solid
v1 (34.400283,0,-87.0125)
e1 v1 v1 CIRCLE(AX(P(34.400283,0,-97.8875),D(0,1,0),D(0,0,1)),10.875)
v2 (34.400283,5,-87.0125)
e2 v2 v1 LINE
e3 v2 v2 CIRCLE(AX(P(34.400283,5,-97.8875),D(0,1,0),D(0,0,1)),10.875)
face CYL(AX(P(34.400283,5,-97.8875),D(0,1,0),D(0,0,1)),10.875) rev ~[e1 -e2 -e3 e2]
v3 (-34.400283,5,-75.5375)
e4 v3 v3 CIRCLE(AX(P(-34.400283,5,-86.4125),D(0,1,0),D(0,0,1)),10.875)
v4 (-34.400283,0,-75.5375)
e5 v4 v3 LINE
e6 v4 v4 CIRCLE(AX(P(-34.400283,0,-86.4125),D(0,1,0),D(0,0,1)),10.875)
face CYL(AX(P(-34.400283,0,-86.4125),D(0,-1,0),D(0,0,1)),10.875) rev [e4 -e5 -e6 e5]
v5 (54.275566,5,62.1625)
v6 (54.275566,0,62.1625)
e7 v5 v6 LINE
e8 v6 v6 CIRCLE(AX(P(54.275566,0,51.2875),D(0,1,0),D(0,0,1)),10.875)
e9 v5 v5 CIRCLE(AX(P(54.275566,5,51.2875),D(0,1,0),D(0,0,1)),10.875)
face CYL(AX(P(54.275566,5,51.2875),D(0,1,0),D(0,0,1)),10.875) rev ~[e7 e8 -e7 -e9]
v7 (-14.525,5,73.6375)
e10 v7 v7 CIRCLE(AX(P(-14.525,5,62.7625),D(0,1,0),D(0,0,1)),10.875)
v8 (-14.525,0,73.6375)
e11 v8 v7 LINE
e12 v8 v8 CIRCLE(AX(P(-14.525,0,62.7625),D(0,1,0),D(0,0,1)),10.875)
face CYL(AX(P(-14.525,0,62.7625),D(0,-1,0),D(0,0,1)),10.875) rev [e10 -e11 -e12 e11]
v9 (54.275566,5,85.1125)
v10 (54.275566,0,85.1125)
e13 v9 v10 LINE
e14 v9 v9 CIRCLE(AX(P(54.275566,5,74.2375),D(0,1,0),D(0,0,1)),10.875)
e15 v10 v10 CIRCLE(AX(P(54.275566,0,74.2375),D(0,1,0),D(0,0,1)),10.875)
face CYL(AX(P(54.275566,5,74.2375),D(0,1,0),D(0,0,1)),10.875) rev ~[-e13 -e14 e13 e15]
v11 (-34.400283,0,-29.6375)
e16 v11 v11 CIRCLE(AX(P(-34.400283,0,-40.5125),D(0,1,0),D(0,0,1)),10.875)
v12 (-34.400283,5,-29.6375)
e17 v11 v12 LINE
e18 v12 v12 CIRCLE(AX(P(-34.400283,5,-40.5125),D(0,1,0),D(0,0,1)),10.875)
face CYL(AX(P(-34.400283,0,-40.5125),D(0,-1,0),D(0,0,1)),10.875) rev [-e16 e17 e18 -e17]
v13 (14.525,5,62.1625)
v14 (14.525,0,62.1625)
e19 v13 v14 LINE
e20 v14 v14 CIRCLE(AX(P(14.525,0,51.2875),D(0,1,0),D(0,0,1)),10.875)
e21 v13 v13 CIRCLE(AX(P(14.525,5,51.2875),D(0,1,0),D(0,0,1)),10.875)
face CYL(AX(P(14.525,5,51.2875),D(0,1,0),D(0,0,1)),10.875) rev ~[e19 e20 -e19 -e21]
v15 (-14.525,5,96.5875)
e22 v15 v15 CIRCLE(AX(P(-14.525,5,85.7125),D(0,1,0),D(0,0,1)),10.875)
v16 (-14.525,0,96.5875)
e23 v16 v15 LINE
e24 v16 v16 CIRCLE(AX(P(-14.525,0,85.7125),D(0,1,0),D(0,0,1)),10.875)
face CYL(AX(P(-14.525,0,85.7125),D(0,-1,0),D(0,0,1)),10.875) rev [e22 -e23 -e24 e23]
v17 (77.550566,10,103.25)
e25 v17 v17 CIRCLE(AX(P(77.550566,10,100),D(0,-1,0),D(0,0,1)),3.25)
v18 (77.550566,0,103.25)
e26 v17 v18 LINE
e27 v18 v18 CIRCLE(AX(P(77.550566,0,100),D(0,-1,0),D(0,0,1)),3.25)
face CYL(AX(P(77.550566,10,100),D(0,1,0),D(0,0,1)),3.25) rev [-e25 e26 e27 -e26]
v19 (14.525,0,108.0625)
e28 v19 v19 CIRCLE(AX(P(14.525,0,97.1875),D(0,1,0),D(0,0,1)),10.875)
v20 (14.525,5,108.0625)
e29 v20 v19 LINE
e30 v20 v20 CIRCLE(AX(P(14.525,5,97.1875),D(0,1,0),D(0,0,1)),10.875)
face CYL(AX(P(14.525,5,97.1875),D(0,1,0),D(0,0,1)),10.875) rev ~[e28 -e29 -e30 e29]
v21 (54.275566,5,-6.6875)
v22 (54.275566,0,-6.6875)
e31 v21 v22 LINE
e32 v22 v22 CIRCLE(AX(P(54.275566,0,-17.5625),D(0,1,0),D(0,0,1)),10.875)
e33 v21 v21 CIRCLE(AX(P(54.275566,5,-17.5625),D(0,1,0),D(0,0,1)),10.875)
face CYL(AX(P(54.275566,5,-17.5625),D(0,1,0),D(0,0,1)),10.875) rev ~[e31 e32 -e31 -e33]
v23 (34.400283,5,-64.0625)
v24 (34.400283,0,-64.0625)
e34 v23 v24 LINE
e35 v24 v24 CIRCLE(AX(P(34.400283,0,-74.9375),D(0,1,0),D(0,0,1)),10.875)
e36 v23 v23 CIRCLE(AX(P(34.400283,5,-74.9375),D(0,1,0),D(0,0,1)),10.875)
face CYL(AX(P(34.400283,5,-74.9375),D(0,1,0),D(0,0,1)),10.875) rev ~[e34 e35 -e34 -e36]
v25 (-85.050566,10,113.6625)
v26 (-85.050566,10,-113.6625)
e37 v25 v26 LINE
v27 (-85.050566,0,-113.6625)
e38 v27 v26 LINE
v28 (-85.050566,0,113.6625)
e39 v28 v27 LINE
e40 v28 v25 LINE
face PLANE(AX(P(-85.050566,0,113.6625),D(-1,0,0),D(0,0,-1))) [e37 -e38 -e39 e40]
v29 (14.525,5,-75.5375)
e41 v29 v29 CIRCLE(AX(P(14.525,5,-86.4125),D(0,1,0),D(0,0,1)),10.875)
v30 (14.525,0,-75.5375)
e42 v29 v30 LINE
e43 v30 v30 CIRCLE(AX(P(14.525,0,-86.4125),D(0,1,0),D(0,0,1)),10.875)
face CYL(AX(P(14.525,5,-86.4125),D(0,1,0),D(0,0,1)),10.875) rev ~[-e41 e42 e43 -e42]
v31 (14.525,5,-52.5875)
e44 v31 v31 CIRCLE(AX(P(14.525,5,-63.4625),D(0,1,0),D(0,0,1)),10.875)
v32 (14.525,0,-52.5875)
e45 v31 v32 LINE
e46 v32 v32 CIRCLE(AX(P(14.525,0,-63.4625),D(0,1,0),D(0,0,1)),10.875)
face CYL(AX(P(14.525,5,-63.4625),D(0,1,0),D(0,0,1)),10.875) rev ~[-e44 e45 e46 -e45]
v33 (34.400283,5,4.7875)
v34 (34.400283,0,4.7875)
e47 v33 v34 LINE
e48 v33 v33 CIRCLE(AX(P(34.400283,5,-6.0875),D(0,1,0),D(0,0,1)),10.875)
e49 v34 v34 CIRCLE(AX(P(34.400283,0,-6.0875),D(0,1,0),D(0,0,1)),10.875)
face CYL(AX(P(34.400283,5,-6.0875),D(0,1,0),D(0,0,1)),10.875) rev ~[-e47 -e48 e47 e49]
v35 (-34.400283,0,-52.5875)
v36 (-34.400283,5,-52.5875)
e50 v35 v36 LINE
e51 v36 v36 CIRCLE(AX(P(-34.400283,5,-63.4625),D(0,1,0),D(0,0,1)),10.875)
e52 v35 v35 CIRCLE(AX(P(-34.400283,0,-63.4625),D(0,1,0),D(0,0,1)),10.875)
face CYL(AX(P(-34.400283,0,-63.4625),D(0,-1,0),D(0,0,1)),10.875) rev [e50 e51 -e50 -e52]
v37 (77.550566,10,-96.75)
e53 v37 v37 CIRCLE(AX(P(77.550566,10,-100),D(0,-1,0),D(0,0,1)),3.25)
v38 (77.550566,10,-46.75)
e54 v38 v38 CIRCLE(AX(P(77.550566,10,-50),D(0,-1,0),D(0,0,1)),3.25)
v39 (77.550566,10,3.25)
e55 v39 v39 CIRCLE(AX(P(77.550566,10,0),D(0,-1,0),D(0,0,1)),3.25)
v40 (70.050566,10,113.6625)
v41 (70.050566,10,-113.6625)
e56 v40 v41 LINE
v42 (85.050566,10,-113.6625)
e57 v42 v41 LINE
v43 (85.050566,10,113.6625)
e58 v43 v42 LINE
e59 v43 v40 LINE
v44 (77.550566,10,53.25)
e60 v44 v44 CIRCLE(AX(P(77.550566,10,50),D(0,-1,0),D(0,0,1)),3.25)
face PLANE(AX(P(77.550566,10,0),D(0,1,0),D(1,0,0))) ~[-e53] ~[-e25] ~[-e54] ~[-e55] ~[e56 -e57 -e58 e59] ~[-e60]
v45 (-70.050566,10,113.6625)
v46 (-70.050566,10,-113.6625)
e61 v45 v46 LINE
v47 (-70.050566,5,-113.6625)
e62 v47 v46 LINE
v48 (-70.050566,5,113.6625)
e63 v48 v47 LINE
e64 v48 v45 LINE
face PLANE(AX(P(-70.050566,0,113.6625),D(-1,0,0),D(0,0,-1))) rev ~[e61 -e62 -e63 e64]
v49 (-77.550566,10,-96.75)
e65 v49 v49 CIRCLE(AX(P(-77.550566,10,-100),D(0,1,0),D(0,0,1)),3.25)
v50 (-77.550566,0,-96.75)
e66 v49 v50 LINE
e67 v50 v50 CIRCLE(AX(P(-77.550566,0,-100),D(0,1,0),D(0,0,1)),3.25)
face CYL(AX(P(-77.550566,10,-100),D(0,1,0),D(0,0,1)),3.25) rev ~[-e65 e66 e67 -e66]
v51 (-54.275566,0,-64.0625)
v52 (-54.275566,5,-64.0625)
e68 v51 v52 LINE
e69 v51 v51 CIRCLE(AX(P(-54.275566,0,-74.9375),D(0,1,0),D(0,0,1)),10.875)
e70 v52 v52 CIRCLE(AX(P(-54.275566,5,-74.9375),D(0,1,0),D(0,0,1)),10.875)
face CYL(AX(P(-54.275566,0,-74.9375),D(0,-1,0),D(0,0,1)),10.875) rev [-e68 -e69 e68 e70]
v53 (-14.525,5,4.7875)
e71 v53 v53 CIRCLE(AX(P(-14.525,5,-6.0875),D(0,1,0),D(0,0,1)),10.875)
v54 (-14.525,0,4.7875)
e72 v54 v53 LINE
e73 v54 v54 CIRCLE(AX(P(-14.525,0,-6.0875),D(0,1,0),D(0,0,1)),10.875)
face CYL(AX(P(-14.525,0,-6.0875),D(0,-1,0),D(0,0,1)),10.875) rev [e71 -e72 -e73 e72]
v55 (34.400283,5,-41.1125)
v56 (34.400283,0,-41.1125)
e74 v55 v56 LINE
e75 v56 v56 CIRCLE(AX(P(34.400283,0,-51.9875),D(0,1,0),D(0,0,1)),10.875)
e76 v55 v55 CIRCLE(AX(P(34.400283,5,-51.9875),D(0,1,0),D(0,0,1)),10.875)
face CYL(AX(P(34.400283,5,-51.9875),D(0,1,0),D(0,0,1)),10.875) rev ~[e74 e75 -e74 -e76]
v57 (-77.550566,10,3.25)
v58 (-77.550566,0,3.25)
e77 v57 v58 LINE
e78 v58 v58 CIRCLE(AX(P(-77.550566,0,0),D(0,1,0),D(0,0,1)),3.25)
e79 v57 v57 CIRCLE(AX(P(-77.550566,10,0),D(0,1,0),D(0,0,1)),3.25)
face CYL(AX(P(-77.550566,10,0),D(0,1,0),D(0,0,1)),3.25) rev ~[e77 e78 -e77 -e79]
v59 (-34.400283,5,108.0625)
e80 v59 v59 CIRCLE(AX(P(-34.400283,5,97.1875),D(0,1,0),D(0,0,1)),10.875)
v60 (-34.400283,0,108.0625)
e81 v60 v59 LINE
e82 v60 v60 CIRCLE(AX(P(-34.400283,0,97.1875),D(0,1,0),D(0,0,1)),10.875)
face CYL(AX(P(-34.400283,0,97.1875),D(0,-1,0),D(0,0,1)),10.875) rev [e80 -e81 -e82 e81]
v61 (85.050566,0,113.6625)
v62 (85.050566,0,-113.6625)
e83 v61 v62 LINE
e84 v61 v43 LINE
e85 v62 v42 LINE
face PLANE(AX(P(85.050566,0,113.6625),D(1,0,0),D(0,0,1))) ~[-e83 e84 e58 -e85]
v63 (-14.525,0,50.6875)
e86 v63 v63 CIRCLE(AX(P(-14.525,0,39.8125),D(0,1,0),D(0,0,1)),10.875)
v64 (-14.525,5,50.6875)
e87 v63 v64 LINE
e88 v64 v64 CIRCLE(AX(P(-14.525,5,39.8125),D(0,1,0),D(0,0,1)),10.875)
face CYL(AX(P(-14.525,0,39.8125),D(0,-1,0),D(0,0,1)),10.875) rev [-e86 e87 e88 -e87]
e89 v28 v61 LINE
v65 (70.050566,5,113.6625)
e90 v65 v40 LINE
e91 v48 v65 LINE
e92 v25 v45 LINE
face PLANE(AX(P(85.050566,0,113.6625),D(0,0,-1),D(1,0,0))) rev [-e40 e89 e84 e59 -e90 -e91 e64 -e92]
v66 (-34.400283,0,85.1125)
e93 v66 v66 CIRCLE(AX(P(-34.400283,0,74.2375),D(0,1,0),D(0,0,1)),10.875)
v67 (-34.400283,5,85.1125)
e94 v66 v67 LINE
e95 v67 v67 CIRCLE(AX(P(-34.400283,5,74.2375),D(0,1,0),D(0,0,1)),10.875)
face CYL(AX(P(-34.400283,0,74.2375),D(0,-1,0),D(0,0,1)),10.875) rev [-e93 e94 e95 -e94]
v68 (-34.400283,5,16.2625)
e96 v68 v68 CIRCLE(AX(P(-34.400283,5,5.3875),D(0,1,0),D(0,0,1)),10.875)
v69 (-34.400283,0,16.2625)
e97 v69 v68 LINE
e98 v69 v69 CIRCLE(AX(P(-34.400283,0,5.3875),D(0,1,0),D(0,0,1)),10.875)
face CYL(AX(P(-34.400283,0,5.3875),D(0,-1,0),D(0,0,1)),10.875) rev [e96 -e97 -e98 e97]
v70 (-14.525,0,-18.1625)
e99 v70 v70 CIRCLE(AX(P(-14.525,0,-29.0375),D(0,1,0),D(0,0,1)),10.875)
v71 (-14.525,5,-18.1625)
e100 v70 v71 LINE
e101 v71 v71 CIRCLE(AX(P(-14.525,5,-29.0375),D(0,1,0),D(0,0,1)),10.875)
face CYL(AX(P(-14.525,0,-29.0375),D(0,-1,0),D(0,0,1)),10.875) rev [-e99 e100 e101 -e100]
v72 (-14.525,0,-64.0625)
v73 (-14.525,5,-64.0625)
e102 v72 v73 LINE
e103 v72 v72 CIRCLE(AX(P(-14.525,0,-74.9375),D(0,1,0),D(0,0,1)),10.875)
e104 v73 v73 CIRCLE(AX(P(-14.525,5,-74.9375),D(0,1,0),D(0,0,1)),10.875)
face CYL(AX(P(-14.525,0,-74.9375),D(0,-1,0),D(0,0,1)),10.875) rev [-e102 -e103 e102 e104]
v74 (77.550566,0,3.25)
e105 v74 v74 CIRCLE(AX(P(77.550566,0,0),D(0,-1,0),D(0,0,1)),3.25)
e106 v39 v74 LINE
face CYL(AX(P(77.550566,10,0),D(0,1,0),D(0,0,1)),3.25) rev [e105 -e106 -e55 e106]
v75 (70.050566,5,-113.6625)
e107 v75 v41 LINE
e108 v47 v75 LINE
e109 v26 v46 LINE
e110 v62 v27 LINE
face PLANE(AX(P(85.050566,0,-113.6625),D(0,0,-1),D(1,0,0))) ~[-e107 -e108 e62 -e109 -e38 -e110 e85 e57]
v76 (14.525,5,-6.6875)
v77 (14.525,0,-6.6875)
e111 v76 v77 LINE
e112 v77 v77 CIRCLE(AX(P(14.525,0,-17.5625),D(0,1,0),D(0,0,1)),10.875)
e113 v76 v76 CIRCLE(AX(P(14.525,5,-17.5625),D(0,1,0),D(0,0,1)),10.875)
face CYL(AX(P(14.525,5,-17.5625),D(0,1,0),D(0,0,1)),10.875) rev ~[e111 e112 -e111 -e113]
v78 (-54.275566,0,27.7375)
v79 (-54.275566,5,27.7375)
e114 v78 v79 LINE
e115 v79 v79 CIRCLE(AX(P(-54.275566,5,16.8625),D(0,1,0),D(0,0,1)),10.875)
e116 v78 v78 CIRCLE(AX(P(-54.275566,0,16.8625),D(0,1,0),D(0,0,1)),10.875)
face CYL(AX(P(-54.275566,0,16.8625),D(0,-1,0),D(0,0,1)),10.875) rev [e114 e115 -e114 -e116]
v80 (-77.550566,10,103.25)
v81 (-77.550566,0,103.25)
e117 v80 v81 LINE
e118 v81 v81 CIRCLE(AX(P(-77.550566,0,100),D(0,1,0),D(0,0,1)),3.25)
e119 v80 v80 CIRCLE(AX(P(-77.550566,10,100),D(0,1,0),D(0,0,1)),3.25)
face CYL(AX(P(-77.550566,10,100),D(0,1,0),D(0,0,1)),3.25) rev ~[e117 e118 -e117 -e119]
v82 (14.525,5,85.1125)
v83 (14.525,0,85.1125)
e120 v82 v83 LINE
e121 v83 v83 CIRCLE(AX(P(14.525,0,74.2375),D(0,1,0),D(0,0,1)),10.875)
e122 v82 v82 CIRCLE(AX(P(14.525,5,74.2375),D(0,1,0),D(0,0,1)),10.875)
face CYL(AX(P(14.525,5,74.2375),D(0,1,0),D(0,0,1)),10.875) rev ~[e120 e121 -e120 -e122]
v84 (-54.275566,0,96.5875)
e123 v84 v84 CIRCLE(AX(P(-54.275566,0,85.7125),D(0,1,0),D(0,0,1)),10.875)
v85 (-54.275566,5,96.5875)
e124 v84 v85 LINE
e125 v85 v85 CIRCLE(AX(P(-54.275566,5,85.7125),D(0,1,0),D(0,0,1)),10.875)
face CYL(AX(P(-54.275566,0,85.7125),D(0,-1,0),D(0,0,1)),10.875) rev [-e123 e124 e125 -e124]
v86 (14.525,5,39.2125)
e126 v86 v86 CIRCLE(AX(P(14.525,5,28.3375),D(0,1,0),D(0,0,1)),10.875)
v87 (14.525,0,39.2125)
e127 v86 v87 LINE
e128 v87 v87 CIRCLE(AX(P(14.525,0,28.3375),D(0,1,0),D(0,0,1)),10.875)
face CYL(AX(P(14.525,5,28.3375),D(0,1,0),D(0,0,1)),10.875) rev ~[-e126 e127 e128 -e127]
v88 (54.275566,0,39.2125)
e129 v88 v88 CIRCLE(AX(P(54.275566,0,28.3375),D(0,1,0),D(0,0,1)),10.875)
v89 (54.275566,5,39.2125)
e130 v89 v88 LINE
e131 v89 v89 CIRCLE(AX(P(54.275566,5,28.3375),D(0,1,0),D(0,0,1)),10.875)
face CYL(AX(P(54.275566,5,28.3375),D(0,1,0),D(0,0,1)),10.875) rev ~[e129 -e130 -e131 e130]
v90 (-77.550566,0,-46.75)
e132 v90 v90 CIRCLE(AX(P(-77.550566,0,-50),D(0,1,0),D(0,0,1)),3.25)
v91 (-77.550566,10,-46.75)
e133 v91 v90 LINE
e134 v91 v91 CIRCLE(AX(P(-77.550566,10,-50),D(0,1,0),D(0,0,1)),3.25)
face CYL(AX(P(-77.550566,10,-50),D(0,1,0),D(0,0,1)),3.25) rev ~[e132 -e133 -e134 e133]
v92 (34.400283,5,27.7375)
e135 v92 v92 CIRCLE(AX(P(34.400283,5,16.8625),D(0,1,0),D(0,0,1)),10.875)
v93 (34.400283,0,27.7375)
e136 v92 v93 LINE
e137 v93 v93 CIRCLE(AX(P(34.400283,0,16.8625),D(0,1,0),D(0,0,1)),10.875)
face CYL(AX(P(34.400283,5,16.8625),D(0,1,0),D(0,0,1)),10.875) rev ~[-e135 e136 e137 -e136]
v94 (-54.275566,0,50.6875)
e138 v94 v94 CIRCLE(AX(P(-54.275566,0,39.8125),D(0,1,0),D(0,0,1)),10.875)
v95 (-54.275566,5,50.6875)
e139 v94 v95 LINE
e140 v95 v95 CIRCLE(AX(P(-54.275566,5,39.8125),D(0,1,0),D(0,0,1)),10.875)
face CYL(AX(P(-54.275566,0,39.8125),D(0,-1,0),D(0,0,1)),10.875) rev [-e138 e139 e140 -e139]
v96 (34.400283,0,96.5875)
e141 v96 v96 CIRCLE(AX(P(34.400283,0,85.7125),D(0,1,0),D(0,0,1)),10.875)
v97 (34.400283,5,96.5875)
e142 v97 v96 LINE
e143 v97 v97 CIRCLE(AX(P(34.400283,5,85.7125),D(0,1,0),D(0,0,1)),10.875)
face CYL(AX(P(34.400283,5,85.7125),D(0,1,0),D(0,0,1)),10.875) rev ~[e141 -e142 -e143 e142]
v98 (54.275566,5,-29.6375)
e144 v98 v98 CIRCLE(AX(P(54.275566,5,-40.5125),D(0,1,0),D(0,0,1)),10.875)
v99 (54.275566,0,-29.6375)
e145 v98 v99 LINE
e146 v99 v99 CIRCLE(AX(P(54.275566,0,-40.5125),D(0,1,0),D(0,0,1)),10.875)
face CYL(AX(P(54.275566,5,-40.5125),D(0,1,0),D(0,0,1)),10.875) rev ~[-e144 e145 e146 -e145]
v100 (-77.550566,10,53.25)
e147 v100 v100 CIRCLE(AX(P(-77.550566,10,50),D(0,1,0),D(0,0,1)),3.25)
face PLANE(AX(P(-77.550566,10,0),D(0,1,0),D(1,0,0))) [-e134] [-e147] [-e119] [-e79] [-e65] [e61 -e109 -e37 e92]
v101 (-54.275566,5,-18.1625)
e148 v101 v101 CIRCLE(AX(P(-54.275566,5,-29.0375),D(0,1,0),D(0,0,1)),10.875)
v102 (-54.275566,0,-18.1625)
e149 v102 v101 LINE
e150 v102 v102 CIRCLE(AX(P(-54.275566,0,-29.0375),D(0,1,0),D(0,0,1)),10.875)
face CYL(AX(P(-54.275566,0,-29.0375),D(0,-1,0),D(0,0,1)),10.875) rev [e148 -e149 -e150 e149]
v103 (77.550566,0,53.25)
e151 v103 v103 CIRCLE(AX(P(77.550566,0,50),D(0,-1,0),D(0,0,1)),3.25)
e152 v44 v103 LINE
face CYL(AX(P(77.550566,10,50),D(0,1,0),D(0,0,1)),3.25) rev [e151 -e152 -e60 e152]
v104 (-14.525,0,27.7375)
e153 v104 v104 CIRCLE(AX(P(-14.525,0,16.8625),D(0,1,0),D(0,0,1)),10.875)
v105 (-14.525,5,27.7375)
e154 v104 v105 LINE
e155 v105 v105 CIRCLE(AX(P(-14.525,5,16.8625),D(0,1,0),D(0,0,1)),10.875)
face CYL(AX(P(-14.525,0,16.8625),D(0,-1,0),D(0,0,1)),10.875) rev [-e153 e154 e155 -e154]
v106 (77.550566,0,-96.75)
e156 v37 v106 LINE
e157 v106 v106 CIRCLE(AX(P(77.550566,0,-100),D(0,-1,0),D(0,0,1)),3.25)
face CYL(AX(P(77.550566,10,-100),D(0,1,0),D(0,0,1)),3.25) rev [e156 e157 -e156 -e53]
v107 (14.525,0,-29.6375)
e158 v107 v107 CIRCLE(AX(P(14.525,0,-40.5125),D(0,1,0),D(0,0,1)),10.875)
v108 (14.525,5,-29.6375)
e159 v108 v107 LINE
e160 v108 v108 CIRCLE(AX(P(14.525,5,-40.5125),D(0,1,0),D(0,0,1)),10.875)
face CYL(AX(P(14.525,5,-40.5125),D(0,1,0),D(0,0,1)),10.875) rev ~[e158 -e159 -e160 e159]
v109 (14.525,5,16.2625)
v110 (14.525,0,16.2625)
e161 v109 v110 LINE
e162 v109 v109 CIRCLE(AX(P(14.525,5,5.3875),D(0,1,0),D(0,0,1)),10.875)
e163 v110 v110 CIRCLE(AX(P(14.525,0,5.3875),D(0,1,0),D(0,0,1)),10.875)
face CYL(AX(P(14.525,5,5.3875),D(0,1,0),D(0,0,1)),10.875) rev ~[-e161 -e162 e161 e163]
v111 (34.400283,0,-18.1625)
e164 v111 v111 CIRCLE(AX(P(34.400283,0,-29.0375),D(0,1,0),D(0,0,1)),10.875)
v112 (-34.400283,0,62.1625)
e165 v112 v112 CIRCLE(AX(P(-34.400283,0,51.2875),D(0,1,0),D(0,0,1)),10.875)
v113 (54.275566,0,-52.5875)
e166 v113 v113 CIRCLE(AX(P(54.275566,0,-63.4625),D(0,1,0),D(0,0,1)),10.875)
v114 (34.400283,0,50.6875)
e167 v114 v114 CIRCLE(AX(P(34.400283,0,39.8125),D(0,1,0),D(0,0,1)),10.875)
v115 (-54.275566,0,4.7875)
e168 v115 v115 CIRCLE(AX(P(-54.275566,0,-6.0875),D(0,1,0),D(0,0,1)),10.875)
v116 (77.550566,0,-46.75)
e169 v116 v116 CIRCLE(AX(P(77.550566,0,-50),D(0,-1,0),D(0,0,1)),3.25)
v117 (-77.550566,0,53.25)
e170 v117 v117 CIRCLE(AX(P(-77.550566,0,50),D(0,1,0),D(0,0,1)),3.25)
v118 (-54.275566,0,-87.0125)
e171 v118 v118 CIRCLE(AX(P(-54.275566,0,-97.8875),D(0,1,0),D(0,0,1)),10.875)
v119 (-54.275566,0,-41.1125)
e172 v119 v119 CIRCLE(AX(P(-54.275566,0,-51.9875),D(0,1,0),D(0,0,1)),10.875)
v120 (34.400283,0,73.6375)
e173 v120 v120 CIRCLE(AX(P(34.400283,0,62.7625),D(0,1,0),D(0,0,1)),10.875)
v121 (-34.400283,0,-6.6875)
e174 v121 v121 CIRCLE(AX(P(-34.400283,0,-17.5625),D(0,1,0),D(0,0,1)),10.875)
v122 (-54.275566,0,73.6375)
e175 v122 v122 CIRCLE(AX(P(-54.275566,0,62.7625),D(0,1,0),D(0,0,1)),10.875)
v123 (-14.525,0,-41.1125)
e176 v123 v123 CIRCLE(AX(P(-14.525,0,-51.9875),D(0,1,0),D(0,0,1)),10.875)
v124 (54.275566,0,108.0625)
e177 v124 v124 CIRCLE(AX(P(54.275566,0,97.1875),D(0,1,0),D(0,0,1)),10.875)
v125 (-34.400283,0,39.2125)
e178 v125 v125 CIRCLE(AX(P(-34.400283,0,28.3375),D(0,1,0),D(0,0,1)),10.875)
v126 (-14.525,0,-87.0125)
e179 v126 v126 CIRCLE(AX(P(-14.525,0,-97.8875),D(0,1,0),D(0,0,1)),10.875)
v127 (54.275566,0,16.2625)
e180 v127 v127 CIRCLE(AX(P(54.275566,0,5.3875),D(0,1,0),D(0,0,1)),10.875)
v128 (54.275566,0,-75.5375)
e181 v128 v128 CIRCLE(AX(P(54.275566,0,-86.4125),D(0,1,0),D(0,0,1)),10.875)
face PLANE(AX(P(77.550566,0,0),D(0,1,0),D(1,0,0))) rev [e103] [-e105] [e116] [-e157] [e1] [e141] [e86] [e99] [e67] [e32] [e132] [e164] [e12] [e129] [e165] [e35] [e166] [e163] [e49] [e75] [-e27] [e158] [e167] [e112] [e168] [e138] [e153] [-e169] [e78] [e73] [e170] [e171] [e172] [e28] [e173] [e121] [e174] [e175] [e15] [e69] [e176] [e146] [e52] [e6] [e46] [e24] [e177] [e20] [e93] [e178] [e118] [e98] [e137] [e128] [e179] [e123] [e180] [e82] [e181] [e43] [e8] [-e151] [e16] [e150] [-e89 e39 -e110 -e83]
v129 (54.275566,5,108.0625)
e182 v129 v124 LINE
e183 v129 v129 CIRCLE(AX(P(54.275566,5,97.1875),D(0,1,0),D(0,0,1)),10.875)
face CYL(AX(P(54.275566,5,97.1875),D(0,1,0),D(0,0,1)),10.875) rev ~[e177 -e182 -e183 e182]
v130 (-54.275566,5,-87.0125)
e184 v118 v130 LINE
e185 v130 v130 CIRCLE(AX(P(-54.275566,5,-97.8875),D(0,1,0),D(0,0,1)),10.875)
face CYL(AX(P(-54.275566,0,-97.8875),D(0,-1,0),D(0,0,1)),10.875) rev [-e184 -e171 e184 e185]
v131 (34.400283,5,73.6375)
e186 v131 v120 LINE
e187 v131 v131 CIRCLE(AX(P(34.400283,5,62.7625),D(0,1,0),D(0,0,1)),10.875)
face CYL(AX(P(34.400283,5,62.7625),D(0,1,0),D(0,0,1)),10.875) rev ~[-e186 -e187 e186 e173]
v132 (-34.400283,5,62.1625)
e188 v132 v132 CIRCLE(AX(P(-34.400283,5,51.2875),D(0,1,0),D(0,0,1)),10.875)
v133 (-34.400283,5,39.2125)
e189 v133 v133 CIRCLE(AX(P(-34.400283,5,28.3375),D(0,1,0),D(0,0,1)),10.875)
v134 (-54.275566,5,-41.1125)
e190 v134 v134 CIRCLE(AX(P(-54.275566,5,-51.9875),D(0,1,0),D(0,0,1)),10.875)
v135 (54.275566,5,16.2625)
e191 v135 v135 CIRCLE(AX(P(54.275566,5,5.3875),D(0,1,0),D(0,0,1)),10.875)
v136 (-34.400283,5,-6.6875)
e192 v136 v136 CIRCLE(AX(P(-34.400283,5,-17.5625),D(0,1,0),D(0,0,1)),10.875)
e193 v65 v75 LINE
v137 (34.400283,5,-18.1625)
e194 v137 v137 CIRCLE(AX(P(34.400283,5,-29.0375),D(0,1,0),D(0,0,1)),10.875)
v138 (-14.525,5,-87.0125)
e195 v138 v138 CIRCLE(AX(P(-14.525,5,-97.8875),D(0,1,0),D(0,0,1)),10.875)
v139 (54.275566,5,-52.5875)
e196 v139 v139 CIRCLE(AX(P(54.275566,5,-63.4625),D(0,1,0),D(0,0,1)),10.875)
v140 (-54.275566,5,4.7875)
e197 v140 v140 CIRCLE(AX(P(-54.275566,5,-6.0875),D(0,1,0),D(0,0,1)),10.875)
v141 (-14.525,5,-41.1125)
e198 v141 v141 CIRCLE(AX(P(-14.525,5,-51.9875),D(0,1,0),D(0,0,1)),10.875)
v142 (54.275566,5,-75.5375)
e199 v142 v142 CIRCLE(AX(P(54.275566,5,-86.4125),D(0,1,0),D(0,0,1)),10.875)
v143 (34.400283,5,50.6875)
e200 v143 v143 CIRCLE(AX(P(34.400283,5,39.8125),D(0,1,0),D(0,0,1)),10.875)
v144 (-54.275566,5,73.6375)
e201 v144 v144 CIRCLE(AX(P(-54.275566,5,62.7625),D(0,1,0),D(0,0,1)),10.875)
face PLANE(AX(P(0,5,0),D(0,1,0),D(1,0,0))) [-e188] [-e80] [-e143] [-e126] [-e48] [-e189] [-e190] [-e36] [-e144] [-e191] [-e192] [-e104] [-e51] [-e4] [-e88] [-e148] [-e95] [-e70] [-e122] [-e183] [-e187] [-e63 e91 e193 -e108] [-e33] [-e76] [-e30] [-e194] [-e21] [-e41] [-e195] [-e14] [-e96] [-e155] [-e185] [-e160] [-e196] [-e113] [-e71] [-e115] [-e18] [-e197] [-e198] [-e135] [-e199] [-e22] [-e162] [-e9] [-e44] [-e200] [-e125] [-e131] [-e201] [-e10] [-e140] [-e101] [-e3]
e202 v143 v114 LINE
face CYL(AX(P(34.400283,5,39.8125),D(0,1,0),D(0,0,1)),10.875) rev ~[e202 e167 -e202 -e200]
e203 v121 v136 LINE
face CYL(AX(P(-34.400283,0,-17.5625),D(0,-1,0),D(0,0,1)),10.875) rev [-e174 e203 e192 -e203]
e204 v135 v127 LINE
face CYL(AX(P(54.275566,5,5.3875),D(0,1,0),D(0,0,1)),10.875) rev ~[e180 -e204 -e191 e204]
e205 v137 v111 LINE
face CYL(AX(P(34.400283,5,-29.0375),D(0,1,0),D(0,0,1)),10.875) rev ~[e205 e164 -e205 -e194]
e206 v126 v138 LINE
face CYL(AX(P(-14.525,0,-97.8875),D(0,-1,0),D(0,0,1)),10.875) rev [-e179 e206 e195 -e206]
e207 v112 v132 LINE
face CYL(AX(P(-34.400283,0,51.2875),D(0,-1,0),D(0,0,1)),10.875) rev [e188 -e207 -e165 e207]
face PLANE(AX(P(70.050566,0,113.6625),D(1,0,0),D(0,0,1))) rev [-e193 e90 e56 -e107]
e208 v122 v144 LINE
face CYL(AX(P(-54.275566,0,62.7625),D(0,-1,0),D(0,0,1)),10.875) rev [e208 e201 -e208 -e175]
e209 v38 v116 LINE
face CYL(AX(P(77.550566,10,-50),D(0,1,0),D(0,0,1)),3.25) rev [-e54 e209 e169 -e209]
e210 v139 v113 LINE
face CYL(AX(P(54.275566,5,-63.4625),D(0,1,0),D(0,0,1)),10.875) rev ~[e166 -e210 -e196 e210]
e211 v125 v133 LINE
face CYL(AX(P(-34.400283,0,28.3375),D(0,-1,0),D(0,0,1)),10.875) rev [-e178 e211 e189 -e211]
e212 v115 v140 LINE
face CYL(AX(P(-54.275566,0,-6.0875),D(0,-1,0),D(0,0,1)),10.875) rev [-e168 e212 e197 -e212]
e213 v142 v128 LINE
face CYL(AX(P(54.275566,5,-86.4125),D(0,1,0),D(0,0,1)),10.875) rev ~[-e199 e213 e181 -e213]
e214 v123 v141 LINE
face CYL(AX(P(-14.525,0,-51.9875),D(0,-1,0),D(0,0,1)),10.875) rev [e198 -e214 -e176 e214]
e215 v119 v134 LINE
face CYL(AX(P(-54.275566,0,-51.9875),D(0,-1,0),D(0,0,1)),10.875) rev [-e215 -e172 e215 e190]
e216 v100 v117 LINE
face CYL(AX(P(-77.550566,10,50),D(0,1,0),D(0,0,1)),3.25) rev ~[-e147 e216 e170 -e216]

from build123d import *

# Parameters (mm, degrees)
CELL_BLOCK_SKETCH_W  = 140.101132068
CELL_BLOCK_SKETCH_H  = 227.325
BOSS_EXTRUDE1_DEPTH  = 5
CELL_HOLES_PATTERN_R = 10.875
CUT_EXTRUDE1_DEPTH   = 5
SKETCH1_R            = 10.875
CUT_EXTRUDE2_DEPTH   = 5
SKETCH3_W            = 15
SKETCH3_H            = 227.325
BOSS_EXTRUDE3_DEPTH  = 10
SKETCH4_R            = 3.25
CUT_EXTRUDE3_DEPTH   = 10


with BuildPart() as part:
    # Cell Block Sketch → Boss-Extrude1 (new body)
    with BuildSketch(Plane(origin=(0, 0, 0), x_dir=(1, 0, 0), z_dir=(0, 1, 0))):
        Rectangle(CELL_BLOCK_SKETCH_W, CELL_BLOCK_SKETCH_H)
    extrude(amount=BOSS_EXTRUDE1_DEPTH)

    # Cell Holes Pattern → Cut-Extrude1 (cut)
    with BuildSketch(Plane(origin=(0, 0, 0), x_dir=(1, 0, 0), z_dir=(0, 1, 0))):
        with Locations(Location((-34.400283017, 86.4125, 0), (0, 0, 270))):
            Circle(CELL_HOLES_PATTERN_R)
        with Locations(Location((-54.275566034, 97.8875, 0), (0, 0, 270))):
            Circle(CELL_HOLES_PATTERN_R)
        with Locations(Location((-14.525, 97.8875, 0), (0, 0, 270))):
            Circle(CELL_HOLES_PATTERN_R)
        with Locations(Location((-54.275566034, 74.9375, 0), (0, 0, 270))):
            Circle(CELL_HOLES_PATTERN_R)
        with Locations(Location((-34.400283017, 63.4625, 0), (0, 0, 270))):
            Circle(CELL_HOLES_PATTERN_R)
        with Locations(Location((-14.525, 74.9375, 0), (0, 0, 270))):
            Circle(CELL_HOLES_PATTERN_R)
        with Locations(Location((-54.275566034, 51.9875, 0), (0, 0, 270))):
            Circle(CELL_HOLES_PATTERN_R)
        with Locations(Location((-34.400283017, 40.5125, 0), (0, 0, 270))):
            Circle(CELL_HOLES_PATTERN_R)
        with Locations(Location((-14.525, 51.9875, 0), (0, 0, 270))):
            Circle(CELL_HOLES_PATTERN_R)
        with Locations(Location((-54.275566034, 29.0375, 0), (0, 0, 270))):
            Circle(CELL_HOLES_PATTERN_R)
        with Locations(Location((-34.400283017, 17.5625, 0), (0, 0, 270))):
            Circle(CELL_HOLES_PATTERN_R)
        with Locations(Location((-14.525, 29.0375, 0), (0, 0, 270))):
            Circle(CELL_HOLES_PATTERN_R)
        with Locations(Location((-54.275566034, 6.0875, 0), (0, 0, 270))):
            Circle(CELL_HOLES_PATTERN_R)
        with Locations(Location((-34.400283017, -5.3875, 0), (0, 0, 270))):
            Circle(CELL_HOLES_PATTERN_R)
        with Locations(Location((-14.525, 6.0875, 0), (0, 0, 270))):
            Circle(CELL_HOLES_PATTERN_R)
        with Locations(Location((-54.275566034, -16.8625, 0), (0, 0, 270))):
            Circle(CELL_HOLES_PATTERN_R)
        with Locations(Location((-34.400283017, -28.3375, 0), (0, 0, 270))):
            Circle(CELL_HOLES_PATTERN_R)
        with Locations(Location((-14.525, -16.8625, 0), (0, 0, 270))):
            Circle(CELL_HOLES_PATTERN_R)
        with Locations(Location((-54.275566034, -39.8125, 0), (0, 0, 270))):
            Circle(CELL_HOLES_PATTERN_R)
        with Locations(Location((-34.400283017, -51.2875, 0), (0, 0, 270))):
            Circle(CELL_HOLES_PATTERN_R)
        with Locations(Location((-14.525, -39.8125, 0), (0, 0, 270))):
            Circle(CELL_HOLES_PATTERN_R)
        with Locations(Location((-54.275566034, -62.7625, 0), (0, 0, 270))):
            Circle(CELL_HOLES_PATTERN_R)
        with Locations(Location((-34.400283017, -74.2375, 0), (0, 0, 270))):
            Circle(CELL_HOLES_PATTERN_R)
        with Locations(Location((-14.525, -62.7625, 0), (0, 0, 270))):
            Circle(CELL_HOLES_PATTERN_R)
        with Locations(Location((-54.275566034, -85.7125, 0), (0, 0, 270))):
            Circle(CELL_HOLES_PATTERN_R)
        with Locations(Location((-34.400283017, -97.1875, 0), (0, 0, 270))):
            Circle(CELL_HOLES_PATTERN_R)
        with Locations(Location((-14.525, -85.7125, 0), (0, 0, 270))):
            Circle(CELL_HOLES_PATTERN_R)
    extrude(amount=CUT_EXTRUDE1_DEPTH, mode=Mode.SUBTRACT)

    # Sketch1 → Cut-Extrude2 (cut)
    with BuildSketch(Plane(origin=(0, 5, 0), x_dir=(1, 0, 0), z_dir=(0, 1, 0))):
        with Locations(Location((14.525, 86.4125, 0), (0, 0, 270))):
            Circle(SKETCH1_R)
        with Locations(Location((34.400283017, 97.8875, 0), (0, 0, 270))):
            Circle(SKETCH1_R)
        with Locations(Location((54.275566034, 86.4125, 0), (0, 0, 270))):
            Circle(SKETCH1_R)
        with Locations(Location((14.525, 63.4625, 0), (0, 0, 270))):
            Circle(SKETCH1_R)
        with Locations(Location((34.400283017, 74.9375, 0), (0, 0, 270))):
            Circle(SKETCH1_R)
        with Locations(Location((54.275566034, 63.4625, 0), (0, 0, 270))):
            Circle(SKETCH1_R)
        with Locations(Location((14.525, 40.5125, 0), (0, 0, 270))):
            Circle(SKETCH1_R)
        with Locations(Location((34.400283017, 51.9875, 0), (0, 0, 270))):
            Circle(SKETCH1_R)
        with Locations(Location((54.275566034, 40.5125, 0), (0, 0, 270))):
            Circle(SKETCH1_R)
        with Locations(Location((14.525, 17.5625, 0), (0, 0, 270))):
            Circle(SKETCH1_R)
        with Locations(Location((34.400283017, 29.0375, 0), (0, 0, 270))):
            Circle(SKETCH1_R)
        with Locations(Location((54.275566034, 17.5625, 0), (0, 0, 270))):
            Circle(SKETCH1_R)
        with Locations(Location((14.525, -5.3875, 0), (0, 0, 270))):
            Circle(SKETCH1_R)
        with Locations(Location((34.400283017, 6.0875, 0), (0, 0, 270))):
            Circle(SKETCH1_R)
        with Locations(Location((54.275566034, -5.3875, 0), (0, 0, 270))):
            Circle(SKETCH1_R)
        with Locations(Location((14.525, -28.3375, 0), (0, 0, 270))):
            Circle(SKETCH1_R)
        with Locations(Location((34.400283017, -16.8625, 0), (0, 0, 270))):
            Circle(SKETCH1_R)
        with Locations(Location((54.275566034, -28.3375, 0), (0, 0, 270))):
            Circle(SKETCH1_R)
        with Locations(Location((14.525, -51.2875, 0), (0, 0, 270))):
            Circle(SKETCH1_R)
        with Locations(Location((34.400283017, -39.8125, 0), (0, 0, 270))):
            Circle(SKETCH1_R)
        with Locations(Location((54.275566034, -51.2875, 0), (0, 0, 270))):
            Circle(SKETCH1_R)
        with Locations(Location((14.525, -74.2375, 0), (0, 0, 270))):
            Circle(SKETCH1_R)
        with Locations(Location((34.400283017, -62.7625, 0), (0, 0, 270))):
            Circle(SKETCH1_R)
        with Locations(Location((54.275566034, -74.2375, 0), (0, 0, 270))):
            Circle(SKETCH1_R)
        with Locations(Location((14.525, -97.1875, 0), (0, 0, 270))):
            Circle(SKETCH1_R)
        with Locations(Location((34.400283017, -85.7125, 0), (0, 0, 270))):
            Circle(SKETCH1_R)
        with Locations(Location((54.275566034, -97.1875, 0), (0, 0, 270))):
            Circle(SKETCH1_R)
    extrude(amount=-CUT_EXTRUDE2_DEPTH, mode=Mode.SUBTRACT)

    # Sketch3 → Boss-Extrude3 (add)
    with BuildSketch(Plane(origin=(0, 0, 0), x_dir=(1, 0, 0), z_dir=(0, 1, 0))):
        with Locations((-77.550566034, 0)):
            Rectangle(SKETCH3_W, SKETCH3_H)
    boss_extrude3 = extrude(amount=BOSS_EXTRUDE3_DEPTH)

    # Mirror1: Boss-Extrude3 across plane
    add(boss_extrude3.mirror(Plane(origin=(0, 0, 0), x_dir=(0, 0, 1), z_dir=(1, 0, 0))))

    # Sketch4 → Cut-Extrude3 (cut)
    with BuildSketch(Plane(origin=(0, 10, 0), x_dir=(1, 0, 0), z_dir=(0, 1, 0))):
        with Locations(Location((-77.550566034, 0, 0), (0, 0, 270))):
            Circle(SKETCH4_R)
        with Locations(Location((-77.550566034, -50, 0), (0, 0, 270))):
            Circle(SKETCH4_R)
        with Locations(Location((-77.550566034, -100, 0), (0, 0, 270))):
            Circle(SKETCH4_R)
        with Locations(Location((-77.550566034, 50, 0), (0, 0, 270))):
            Circle(SKETCH4_R)
        with Locations(Location((-77.550566034, 100, 0), (0, 0, 270))):
            Circle(SKETCH4_R)
    cut_extrude3 = extrude(amount=-CUT_EXTRUDE3_DEPTH, mode=Mode.SUBTRACT)

    # Mirror2: Cut-Extrude3 across plane
    add(cut_extrude3.mirror(Plane(origin=(0, 0, 0), x_dir=(0, 0, 1), z_dir=(1, 0, 0))), mode=Mode.SUBTRACT)


solid = part.part
